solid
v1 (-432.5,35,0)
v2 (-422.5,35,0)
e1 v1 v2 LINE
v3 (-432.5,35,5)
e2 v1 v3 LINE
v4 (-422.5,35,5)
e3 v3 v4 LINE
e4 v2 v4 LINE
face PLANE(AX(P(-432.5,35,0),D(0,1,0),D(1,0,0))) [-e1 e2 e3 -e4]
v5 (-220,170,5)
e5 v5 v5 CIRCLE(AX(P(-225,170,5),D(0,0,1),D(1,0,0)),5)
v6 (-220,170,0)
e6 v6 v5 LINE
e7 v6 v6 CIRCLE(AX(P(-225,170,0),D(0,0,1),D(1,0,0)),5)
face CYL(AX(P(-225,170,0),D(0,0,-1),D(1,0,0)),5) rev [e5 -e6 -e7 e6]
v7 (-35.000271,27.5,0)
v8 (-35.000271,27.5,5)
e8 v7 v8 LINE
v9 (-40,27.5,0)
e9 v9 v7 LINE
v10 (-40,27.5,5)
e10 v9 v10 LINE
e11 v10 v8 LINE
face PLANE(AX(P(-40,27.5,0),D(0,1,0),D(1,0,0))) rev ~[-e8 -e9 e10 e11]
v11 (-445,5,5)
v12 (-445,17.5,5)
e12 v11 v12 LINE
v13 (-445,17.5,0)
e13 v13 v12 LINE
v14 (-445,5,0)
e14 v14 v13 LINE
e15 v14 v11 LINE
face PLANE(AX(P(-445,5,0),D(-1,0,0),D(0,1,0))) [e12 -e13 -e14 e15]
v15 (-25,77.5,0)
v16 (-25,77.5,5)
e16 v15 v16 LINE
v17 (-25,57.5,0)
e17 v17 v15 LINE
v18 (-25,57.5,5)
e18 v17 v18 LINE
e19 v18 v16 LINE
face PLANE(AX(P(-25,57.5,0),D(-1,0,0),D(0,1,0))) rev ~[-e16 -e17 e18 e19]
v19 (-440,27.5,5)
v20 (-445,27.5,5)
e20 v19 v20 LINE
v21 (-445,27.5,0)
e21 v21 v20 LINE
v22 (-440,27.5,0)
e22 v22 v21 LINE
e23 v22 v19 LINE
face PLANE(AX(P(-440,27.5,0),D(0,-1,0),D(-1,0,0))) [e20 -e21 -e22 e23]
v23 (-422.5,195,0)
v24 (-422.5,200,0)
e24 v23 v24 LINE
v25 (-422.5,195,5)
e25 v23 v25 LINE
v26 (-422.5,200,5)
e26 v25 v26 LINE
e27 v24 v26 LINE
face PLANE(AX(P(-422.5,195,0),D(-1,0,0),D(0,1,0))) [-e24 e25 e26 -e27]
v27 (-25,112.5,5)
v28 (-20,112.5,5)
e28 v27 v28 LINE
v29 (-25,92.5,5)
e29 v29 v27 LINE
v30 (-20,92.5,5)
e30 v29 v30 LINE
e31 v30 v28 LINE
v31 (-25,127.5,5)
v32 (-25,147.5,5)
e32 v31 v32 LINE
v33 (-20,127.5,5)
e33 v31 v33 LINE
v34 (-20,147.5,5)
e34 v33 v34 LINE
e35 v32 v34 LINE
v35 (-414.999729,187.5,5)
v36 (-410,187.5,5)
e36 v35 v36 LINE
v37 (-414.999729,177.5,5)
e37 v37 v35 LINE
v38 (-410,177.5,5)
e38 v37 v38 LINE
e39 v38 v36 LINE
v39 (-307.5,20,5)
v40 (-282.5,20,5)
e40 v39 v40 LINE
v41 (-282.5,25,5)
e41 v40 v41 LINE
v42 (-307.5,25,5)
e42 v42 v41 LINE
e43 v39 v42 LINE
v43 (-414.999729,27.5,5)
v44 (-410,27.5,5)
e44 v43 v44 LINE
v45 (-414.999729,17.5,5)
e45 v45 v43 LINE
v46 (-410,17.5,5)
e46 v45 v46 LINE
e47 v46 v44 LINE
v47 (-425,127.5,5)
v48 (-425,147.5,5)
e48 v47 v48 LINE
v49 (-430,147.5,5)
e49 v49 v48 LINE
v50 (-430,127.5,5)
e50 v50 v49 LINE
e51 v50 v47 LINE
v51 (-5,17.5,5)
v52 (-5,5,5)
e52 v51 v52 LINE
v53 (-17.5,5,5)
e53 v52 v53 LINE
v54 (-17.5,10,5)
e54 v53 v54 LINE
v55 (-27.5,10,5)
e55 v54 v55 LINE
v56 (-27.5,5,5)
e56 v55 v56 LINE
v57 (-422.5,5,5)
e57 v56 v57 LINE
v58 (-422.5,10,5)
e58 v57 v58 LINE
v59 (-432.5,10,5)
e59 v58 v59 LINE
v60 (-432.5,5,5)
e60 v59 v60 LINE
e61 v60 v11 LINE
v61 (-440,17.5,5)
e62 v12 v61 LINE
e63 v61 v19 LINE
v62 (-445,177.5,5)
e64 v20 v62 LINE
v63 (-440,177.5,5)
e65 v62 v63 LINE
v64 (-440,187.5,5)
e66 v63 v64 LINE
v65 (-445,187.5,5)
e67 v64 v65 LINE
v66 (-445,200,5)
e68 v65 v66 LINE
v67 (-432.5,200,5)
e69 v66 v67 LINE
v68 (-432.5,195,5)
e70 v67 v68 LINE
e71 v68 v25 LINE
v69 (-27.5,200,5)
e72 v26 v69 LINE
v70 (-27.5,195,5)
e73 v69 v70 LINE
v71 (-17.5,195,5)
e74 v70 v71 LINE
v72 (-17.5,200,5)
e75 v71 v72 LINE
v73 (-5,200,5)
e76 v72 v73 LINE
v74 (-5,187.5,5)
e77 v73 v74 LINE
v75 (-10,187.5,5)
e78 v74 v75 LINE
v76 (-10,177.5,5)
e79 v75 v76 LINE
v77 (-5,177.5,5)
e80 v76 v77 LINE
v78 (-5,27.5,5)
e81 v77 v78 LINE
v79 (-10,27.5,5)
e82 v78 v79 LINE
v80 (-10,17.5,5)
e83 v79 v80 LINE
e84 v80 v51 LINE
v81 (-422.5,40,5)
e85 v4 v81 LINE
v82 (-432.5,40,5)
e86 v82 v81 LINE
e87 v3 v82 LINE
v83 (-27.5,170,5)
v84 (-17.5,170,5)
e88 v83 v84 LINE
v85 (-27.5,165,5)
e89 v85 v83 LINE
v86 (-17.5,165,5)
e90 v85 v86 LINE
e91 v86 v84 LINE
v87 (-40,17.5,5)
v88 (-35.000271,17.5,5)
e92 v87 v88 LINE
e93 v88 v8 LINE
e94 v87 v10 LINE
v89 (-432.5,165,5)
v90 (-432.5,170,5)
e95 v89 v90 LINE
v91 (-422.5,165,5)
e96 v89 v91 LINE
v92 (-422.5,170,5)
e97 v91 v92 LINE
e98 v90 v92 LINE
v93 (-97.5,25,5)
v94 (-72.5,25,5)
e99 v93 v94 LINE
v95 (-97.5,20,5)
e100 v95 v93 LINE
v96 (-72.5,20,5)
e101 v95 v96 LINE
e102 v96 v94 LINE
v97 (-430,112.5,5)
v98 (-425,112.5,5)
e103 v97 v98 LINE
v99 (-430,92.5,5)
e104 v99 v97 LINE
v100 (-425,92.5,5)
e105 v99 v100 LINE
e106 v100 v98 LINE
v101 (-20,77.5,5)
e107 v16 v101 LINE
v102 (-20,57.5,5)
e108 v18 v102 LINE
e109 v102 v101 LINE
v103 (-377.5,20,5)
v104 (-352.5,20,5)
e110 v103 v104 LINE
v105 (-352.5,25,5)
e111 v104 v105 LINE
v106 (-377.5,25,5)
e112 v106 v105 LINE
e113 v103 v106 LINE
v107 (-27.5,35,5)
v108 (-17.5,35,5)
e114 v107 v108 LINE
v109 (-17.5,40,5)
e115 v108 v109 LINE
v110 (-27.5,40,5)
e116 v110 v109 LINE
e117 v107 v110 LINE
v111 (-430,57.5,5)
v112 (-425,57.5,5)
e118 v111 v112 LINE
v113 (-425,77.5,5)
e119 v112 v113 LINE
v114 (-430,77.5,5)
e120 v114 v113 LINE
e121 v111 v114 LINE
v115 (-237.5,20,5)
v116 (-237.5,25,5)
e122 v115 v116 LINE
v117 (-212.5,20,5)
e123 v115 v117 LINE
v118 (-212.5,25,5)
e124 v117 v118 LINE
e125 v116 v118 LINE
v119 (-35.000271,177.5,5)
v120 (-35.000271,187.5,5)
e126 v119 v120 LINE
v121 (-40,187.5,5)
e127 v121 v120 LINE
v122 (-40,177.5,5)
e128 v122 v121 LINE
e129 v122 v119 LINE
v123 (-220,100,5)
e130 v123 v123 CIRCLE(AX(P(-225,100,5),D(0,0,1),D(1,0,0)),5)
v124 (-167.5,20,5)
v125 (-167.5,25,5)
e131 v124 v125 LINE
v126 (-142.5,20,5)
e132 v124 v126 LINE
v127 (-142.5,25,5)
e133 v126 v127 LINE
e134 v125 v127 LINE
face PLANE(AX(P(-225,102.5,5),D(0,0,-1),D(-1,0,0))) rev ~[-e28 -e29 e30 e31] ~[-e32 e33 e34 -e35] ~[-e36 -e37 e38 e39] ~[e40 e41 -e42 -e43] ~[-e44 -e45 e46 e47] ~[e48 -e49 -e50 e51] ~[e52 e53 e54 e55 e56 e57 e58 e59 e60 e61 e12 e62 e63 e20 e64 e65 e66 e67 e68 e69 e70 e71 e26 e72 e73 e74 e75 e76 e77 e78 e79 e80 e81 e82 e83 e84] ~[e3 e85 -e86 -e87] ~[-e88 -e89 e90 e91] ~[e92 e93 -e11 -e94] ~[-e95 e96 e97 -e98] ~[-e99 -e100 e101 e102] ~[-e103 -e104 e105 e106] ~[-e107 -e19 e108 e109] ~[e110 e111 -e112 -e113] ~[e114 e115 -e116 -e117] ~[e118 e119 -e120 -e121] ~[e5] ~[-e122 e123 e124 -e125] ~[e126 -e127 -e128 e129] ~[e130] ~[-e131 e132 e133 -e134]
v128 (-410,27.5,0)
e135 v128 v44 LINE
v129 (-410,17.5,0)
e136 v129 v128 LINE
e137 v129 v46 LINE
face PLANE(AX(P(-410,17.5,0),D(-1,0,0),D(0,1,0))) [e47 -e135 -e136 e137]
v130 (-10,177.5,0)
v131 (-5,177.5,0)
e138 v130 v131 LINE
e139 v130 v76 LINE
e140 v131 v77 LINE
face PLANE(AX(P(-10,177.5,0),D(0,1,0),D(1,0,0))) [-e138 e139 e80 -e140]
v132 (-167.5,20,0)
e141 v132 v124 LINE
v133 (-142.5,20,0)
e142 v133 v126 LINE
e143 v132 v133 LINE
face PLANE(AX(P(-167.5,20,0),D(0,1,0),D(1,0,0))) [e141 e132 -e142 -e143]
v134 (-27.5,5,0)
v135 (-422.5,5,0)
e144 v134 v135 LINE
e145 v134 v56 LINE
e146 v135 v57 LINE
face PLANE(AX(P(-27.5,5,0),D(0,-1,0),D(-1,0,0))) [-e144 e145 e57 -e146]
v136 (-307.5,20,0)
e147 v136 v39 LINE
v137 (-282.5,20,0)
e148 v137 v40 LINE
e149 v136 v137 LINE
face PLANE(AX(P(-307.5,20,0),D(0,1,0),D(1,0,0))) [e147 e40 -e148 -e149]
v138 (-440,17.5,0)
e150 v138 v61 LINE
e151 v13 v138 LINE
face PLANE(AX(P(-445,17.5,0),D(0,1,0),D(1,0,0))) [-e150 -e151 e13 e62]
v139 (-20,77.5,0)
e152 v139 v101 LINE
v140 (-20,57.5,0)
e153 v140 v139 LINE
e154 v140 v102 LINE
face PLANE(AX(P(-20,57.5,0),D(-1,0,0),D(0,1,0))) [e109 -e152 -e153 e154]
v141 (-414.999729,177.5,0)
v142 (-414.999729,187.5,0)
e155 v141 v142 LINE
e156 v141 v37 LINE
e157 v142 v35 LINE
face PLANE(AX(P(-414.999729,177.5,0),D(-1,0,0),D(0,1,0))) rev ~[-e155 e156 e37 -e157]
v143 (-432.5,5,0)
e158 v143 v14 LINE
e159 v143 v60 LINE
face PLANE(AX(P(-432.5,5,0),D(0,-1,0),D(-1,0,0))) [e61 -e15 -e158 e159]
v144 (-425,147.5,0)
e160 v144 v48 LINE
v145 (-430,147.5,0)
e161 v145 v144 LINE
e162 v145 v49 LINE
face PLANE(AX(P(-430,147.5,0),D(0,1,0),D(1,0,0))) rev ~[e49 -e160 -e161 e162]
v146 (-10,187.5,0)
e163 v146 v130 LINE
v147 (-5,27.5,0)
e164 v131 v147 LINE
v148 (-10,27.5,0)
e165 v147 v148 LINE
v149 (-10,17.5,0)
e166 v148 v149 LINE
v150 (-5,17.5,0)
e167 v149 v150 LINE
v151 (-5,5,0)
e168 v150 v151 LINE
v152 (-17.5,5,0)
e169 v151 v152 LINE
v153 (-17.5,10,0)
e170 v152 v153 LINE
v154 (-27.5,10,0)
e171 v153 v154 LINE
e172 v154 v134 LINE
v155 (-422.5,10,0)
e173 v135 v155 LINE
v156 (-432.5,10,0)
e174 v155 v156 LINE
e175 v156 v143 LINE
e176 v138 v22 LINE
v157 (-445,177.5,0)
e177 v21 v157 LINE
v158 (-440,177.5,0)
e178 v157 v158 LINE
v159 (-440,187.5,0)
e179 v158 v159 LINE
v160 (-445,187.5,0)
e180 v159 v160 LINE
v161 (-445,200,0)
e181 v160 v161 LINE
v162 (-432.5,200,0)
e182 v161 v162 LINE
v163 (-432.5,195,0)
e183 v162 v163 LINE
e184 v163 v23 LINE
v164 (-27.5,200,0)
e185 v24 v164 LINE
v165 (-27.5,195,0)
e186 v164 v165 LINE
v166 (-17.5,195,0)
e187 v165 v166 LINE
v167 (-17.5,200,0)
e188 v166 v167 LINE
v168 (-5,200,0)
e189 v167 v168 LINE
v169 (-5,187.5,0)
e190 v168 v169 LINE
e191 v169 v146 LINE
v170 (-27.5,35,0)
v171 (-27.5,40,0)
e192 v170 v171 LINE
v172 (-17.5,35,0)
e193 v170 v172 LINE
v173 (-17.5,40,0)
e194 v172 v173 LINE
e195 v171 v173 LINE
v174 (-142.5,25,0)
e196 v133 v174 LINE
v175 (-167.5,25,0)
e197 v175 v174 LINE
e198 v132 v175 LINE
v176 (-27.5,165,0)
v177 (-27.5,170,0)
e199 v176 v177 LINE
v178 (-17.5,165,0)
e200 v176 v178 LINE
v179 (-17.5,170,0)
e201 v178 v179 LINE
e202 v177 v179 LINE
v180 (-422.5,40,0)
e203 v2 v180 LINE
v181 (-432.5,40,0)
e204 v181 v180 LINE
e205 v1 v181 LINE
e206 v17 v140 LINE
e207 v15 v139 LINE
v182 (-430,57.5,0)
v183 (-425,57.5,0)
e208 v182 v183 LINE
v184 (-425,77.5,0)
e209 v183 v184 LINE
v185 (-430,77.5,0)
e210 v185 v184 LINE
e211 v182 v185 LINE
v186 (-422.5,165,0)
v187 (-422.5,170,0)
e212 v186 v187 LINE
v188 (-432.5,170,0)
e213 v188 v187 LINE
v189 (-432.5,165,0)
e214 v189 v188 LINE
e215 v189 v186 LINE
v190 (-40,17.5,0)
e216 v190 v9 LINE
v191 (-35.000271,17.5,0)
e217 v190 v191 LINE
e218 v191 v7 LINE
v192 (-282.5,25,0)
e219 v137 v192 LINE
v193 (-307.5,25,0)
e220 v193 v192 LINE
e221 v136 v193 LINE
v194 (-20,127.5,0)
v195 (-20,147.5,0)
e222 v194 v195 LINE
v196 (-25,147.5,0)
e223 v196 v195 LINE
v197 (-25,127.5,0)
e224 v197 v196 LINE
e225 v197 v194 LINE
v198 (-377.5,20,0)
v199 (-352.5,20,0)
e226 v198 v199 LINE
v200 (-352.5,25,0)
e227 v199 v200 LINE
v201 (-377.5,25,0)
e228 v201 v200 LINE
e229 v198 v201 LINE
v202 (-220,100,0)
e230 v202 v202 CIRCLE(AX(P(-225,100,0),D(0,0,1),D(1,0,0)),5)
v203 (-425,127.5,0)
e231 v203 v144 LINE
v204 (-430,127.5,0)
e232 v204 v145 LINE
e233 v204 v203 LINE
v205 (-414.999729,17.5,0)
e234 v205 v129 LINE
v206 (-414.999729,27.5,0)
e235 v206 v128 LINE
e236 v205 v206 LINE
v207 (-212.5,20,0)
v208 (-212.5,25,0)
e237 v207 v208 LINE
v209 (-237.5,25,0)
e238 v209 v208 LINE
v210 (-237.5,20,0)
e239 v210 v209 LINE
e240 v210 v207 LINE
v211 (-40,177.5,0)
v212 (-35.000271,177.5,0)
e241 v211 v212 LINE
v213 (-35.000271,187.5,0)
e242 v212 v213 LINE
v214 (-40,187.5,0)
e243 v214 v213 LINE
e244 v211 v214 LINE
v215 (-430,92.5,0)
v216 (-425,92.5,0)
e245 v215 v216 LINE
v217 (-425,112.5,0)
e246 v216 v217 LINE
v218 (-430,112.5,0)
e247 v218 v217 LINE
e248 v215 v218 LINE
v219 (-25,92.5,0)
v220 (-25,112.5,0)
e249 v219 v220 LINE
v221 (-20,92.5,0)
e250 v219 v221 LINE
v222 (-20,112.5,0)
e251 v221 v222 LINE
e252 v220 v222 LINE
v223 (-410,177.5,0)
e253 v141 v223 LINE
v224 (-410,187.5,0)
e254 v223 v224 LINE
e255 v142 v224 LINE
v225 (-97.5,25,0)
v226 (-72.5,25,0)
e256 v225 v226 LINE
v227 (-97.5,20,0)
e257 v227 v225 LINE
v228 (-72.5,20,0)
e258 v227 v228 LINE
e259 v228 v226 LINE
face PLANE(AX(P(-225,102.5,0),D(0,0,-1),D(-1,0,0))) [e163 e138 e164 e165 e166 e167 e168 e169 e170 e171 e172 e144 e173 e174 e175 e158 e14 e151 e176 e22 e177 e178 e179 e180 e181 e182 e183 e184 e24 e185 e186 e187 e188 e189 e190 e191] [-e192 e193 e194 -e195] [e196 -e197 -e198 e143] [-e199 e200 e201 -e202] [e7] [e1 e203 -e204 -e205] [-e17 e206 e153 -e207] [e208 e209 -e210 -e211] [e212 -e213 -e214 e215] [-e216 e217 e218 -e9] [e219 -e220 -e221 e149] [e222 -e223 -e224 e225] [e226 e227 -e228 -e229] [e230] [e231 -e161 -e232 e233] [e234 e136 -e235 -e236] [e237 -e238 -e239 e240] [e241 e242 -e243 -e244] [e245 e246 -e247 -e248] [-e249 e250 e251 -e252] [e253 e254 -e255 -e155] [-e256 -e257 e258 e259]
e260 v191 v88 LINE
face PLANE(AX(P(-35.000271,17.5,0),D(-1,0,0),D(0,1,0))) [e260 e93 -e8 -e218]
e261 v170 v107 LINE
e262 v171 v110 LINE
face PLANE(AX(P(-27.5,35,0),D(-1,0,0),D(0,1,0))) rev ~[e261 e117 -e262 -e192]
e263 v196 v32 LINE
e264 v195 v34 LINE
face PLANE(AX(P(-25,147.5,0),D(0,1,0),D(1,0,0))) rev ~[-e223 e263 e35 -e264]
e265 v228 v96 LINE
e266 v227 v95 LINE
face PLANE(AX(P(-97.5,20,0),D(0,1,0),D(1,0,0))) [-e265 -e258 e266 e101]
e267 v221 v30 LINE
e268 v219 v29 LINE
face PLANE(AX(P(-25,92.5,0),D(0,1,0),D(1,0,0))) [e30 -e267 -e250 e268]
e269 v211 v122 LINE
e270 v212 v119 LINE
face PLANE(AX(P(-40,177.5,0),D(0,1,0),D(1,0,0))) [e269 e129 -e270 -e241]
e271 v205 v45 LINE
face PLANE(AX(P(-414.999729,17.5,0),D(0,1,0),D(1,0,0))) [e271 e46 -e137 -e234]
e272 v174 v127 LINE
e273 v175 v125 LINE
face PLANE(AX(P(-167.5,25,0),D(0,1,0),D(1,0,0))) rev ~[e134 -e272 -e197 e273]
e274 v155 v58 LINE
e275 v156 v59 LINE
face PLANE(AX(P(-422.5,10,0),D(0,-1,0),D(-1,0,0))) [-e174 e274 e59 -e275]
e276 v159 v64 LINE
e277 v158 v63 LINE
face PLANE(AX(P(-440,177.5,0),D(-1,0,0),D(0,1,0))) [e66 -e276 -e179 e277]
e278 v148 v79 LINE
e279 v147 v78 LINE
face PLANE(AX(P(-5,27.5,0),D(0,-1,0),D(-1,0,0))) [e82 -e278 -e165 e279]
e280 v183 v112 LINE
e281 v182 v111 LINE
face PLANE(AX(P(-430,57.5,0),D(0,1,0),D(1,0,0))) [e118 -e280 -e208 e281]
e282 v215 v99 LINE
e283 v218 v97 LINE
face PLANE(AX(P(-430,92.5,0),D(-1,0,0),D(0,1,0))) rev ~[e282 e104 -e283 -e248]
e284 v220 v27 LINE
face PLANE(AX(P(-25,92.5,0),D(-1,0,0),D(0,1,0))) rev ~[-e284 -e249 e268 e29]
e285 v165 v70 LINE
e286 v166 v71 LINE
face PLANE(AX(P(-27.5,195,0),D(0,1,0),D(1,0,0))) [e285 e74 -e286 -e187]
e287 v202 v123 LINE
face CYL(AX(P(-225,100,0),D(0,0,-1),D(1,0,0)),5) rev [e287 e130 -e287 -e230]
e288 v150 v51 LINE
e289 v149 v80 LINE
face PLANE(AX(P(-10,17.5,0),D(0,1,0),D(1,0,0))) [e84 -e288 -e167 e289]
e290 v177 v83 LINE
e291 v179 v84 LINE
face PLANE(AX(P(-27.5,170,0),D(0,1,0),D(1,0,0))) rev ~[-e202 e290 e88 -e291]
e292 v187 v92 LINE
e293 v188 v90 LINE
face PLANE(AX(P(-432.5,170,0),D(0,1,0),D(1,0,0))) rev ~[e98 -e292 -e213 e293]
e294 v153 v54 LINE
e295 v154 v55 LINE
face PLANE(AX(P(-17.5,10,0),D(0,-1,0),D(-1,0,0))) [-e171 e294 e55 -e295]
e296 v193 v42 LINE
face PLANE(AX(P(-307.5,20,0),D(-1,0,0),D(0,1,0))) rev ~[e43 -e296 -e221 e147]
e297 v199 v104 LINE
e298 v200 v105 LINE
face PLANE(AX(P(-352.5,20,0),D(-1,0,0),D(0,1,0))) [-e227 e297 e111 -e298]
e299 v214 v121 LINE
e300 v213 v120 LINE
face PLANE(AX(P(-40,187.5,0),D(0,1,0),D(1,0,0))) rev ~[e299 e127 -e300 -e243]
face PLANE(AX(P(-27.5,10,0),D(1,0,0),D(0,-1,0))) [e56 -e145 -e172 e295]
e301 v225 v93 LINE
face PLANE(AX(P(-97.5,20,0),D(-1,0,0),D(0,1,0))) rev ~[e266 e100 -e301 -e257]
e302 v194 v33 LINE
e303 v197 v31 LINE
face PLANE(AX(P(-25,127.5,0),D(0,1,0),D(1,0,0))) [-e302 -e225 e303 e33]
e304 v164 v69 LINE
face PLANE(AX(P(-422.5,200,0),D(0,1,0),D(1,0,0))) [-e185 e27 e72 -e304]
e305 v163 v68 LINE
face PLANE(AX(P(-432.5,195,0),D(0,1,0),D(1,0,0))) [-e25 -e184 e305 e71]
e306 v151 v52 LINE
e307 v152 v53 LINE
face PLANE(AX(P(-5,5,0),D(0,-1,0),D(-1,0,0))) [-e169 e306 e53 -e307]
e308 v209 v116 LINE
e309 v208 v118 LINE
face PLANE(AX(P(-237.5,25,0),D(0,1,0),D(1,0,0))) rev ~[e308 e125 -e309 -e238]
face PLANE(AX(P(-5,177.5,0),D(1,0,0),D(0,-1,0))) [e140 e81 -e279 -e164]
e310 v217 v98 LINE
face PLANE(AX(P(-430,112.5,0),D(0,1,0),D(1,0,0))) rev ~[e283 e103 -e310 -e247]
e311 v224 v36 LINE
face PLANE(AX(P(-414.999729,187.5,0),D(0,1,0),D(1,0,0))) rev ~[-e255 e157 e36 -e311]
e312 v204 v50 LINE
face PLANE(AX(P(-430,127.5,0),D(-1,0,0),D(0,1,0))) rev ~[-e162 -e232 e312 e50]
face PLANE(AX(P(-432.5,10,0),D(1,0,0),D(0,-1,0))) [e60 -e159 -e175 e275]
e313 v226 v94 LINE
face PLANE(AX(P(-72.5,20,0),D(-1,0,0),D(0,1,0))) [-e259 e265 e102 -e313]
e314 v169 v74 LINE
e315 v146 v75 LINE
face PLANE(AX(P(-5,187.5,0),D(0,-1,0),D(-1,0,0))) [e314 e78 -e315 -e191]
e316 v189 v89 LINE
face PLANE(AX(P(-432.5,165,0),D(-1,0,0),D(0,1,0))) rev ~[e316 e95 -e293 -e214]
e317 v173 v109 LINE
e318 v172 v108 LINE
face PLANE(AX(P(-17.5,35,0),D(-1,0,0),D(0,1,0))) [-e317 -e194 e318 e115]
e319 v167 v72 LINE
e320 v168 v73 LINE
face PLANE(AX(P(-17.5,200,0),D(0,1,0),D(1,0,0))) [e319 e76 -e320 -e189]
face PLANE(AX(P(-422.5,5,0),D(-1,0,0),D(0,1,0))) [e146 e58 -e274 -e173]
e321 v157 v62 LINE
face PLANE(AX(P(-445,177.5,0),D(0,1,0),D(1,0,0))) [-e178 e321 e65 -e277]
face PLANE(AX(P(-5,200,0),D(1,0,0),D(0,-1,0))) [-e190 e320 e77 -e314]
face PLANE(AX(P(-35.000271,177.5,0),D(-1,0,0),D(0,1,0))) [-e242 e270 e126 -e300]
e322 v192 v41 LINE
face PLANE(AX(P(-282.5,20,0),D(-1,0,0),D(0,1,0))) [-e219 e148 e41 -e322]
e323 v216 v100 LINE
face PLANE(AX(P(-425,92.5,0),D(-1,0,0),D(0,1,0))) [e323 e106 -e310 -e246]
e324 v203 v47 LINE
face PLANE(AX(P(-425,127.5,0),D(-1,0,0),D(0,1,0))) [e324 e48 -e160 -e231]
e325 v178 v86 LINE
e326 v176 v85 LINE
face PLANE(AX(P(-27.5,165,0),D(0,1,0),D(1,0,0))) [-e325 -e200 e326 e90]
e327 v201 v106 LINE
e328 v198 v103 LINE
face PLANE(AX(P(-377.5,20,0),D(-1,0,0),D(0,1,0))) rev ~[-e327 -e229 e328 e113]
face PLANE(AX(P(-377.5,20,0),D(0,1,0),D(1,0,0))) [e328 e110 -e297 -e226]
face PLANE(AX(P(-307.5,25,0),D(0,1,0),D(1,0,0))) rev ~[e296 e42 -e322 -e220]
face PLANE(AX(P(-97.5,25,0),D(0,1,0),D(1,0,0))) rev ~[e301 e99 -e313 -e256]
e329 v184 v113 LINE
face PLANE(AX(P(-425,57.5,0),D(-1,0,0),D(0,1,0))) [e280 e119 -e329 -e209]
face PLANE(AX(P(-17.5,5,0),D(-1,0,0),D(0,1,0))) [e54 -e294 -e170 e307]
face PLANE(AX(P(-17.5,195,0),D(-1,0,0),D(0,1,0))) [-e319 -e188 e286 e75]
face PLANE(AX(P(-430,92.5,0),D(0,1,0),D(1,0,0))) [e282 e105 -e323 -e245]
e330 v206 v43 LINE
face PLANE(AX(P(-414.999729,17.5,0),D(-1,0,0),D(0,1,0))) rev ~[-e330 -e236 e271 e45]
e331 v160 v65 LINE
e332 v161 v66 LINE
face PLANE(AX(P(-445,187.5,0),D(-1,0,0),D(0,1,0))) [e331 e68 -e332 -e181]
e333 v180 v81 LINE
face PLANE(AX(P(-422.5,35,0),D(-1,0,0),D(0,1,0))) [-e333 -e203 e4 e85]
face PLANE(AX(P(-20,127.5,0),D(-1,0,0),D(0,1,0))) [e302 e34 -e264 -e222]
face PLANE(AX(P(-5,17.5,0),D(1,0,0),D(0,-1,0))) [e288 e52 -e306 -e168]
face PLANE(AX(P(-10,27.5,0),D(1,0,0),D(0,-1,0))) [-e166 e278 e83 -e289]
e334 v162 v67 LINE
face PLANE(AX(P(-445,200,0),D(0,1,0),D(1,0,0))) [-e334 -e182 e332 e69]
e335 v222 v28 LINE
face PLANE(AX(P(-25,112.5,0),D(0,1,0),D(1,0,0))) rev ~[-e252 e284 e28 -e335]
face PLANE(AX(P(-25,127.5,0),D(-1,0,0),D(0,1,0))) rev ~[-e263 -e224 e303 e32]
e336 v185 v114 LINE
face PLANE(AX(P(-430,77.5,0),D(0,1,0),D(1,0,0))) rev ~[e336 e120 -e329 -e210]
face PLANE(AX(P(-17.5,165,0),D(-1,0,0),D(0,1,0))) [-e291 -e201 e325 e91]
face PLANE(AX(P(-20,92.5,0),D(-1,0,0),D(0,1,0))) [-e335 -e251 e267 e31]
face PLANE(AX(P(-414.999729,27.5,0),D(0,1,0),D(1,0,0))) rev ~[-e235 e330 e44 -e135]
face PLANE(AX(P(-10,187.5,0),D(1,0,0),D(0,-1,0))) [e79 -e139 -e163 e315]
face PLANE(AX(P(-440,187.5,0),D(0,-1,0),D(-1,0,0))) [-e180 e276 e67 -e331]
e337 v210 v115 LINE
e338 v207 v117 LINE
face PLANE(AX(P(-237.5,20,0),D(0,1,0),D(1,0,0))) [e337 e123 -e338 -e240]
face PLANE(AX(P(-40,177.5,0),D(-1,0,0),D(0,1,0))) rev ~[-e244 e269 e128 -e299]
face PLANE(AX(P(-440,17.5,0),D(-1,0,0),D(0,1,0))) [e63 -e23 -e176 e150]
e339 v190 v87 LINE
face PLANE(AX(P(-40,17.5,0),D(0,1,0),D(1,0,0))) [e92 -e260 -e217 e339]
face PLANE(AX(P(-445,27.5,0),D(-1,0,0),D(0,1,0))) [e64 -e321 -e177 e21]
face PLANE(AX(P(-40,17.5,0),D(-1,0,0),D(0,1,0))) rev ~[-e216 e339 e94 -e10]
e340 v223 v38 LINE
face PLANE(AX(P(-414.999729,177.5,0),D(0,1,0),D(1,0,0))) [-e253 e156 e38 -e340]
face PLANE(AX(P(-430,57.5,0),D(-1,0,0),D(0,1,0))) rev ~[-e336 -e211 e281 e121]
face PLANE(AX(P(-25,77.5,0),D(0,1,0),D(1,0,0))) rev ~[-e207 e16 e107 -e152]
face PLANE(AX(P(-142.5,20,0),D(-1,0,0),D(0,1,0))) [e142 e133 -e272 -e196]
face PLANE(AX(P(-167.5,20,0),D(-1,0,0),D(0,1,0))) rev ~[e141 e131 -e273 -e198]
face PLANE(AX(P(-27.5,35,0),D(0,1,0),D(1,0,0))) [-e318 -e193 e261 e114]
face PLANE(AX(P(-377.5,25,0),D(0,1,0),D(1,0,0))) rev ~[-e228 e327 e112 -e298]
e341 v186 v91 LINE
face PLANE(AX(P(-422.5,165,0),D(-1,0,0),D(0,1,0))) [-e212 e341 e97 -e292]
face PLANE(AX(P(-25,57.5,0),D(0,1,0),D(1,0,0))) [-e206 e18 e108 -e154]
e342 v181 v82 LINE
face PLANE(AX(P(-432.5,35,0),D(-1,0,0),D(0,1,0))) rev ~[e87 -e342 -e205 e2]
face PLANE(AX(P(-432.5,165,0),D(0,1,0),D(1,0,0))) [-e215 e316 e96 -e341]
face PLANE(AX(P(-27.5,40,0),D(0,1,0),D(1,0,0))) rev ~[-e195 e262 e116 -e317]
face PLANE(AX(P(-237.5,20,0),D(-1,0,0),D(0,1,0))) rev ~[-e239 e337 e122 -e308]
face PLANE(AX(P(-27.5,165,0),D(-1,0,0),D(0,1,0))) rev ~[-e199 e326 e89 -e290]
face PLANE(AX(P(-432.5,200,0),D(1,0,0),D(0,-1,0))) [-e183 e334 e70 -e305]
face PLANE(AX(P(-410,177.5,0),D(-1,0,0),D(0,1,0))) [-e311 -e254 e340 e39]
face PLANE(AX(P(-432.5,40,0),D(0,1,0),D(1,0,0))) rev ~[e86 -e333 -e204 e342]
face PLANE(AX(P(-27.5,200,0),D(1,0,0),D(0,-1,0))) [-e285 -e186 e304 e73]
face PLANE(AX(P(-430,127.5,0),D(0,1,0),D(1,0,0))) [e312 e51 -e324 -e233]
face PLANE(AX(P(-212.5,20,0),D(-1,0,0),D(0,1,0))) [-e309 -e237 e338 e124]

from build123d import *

# Parameters (mm, degrees)
SKETCH1_R           = 5
SKETCH1_W           = 10
SKETCH1_H           = 5
SKETCH1_W_2         = 4.999728605
SKETCH1_H_2         = 10
SKETCH1_W_3         = 5
SKETCH1_H_3         = 20
SKETCH1_W_4         = 25
BOSS_EXTRUDE1_DEPTH = 5


with BuildPart() as part:
    # Sketch1 → Boss-Extrude1 (new body)
    with BuildSketch(Plane.XY):
        Polygon((-5, 5), (-17.5, 5), (-17.5, 10), (-27.5, 10), (-27.5, 5), (-422.5, 5), (-422.5, 10), (-432.5, 10), (-432.5, 5), (-445, 5), (-445, 17.5), (-440, 17.5), (-440, 27.5), (-445, 27.5), (-445, 177.5), (-440, 177.5), (-440, 187.5), (-445, 187.5), (-445, 200), (-432.5, 200), (-432.5, 195), (-422.5, 195), (-422.5, 200), (-27.5, 200), (-27.5, 195), (-17.5, 195), (-17.5, 200), (-5, 200), (-5, 187.5), (-10, 187.5), (-10, 177.5), (-5, 177.5), (-5, 27.5), (-10, 27.5), (-10, 17.5), (-5, 17.5), align=None)
        with Locations((-225, 170)):
            Circle(SKETCH1_R, mode=Mode.SUBTRACT)
        with Locations((-225, 100)):
            Circle(SKETCH1_R, mode=Mode.SUBTRACT)
        with Locations((-22.5, 37.5)):
            Rectangle(SKETCH1_W, SKETCH1_H, mode=Mode.SUBTRACT)
        with Locations((-37.500135697, 22.5)):
            Rectangle(SKETCH1_W_2, SKETCH1_H_2, mode=Mode.SUBTRACT)
        with Locations((-412.499864302, 22.5)):
            Rectangle(SKETCH1_W_2, SKETCH1_H_2, mode=Mode.SUBTRACT)
        with Locations((-427.5, 37.5)):
            Rectangle(SKETCH1_W, SKETCH1_H, mode=Mode.SUBTRACT)
        with Locations((-427.5, 167.5)):
            Rectangle(SKETCH1_W, SKETCH1_H, mode=Mode.SUBTRACT)
        with Locations((-412.499864302, 182.5)):
            Rectangle(SKETCH1_W_2, SKETCH1_H_2, mode=Mode.SUBTRACT)
        with Locations((-37.500135697, 182.5)):
            Rectangle(SKETCH1_W_2, SKETCH1_H_2, mode=Mode.SUBTRACT)
        with Locations((-22.5, 167.5)):
            Rectangle(SKETCH1_W, SKETCH1_H, mode=Mode.SUBTRACT)
        with Locations((-427.5, 67.5)):
            Rectangle(SKETCH1_W_3, SKETCH1_H_3, mode=Mode.SUBTRACT)
        with Locations((-427.5, 102.5)):
            Rectangle(SKETCH1_W_3, SKETCH1_H_3, mode=Mode.SUBTRACT)
        with Locations((-427.5, 137.5)):
            Rectangle(SKETCH1_W_3, SKETCH1_H_3, mode=Mode.SUBTRACT)
        with Locations((-22.5, 137.5)):
            Rectangle(SKETCH1_W_3, SKETCH1_H_3, mode=Mode.SUBTRACT)
        with Locations((-22.5, 102.5)):
            Rectangle(SKETCH1_W_3, SKETCH1_H_3, mode=Mode.SUBTRACT)
        with Locations((-22.5, 67.5)):
            Rectangle(SKETCH1_W_3, SKETCH1_H_3, mode=Mode.SUBTRACT)
        with Locations((-365, 22.5)):
            Rectangle(SKETCH1_W_4, SKETCH1_H, mode=Mode.SUBTRACT)
        with Locations((-295, 22.5)):
            Rectangle(SKETCH1_W_4, SKETCH1_H, mode=Mode.SUBTRACT)
        with Locations((-225, 22.5)):
            Rectangle(SKETCH1_W_4, SKETCH1_H, mode=Mode.SUBTRACT)
        with Locations((-155, 22.5)):
            Rectangle(SKETCH1_W_4, SKETCH1_H, mode=Mode.SUBTRACT)
        with Locations((-85, 22.5)):
            Rectangle(SKETCH1_W_4, SKETCH1_H, mode=Mode.SUBTRACT)
    extrude(amount=BOSS_EXTRUDE1_DEPTH)


solid = part.part
